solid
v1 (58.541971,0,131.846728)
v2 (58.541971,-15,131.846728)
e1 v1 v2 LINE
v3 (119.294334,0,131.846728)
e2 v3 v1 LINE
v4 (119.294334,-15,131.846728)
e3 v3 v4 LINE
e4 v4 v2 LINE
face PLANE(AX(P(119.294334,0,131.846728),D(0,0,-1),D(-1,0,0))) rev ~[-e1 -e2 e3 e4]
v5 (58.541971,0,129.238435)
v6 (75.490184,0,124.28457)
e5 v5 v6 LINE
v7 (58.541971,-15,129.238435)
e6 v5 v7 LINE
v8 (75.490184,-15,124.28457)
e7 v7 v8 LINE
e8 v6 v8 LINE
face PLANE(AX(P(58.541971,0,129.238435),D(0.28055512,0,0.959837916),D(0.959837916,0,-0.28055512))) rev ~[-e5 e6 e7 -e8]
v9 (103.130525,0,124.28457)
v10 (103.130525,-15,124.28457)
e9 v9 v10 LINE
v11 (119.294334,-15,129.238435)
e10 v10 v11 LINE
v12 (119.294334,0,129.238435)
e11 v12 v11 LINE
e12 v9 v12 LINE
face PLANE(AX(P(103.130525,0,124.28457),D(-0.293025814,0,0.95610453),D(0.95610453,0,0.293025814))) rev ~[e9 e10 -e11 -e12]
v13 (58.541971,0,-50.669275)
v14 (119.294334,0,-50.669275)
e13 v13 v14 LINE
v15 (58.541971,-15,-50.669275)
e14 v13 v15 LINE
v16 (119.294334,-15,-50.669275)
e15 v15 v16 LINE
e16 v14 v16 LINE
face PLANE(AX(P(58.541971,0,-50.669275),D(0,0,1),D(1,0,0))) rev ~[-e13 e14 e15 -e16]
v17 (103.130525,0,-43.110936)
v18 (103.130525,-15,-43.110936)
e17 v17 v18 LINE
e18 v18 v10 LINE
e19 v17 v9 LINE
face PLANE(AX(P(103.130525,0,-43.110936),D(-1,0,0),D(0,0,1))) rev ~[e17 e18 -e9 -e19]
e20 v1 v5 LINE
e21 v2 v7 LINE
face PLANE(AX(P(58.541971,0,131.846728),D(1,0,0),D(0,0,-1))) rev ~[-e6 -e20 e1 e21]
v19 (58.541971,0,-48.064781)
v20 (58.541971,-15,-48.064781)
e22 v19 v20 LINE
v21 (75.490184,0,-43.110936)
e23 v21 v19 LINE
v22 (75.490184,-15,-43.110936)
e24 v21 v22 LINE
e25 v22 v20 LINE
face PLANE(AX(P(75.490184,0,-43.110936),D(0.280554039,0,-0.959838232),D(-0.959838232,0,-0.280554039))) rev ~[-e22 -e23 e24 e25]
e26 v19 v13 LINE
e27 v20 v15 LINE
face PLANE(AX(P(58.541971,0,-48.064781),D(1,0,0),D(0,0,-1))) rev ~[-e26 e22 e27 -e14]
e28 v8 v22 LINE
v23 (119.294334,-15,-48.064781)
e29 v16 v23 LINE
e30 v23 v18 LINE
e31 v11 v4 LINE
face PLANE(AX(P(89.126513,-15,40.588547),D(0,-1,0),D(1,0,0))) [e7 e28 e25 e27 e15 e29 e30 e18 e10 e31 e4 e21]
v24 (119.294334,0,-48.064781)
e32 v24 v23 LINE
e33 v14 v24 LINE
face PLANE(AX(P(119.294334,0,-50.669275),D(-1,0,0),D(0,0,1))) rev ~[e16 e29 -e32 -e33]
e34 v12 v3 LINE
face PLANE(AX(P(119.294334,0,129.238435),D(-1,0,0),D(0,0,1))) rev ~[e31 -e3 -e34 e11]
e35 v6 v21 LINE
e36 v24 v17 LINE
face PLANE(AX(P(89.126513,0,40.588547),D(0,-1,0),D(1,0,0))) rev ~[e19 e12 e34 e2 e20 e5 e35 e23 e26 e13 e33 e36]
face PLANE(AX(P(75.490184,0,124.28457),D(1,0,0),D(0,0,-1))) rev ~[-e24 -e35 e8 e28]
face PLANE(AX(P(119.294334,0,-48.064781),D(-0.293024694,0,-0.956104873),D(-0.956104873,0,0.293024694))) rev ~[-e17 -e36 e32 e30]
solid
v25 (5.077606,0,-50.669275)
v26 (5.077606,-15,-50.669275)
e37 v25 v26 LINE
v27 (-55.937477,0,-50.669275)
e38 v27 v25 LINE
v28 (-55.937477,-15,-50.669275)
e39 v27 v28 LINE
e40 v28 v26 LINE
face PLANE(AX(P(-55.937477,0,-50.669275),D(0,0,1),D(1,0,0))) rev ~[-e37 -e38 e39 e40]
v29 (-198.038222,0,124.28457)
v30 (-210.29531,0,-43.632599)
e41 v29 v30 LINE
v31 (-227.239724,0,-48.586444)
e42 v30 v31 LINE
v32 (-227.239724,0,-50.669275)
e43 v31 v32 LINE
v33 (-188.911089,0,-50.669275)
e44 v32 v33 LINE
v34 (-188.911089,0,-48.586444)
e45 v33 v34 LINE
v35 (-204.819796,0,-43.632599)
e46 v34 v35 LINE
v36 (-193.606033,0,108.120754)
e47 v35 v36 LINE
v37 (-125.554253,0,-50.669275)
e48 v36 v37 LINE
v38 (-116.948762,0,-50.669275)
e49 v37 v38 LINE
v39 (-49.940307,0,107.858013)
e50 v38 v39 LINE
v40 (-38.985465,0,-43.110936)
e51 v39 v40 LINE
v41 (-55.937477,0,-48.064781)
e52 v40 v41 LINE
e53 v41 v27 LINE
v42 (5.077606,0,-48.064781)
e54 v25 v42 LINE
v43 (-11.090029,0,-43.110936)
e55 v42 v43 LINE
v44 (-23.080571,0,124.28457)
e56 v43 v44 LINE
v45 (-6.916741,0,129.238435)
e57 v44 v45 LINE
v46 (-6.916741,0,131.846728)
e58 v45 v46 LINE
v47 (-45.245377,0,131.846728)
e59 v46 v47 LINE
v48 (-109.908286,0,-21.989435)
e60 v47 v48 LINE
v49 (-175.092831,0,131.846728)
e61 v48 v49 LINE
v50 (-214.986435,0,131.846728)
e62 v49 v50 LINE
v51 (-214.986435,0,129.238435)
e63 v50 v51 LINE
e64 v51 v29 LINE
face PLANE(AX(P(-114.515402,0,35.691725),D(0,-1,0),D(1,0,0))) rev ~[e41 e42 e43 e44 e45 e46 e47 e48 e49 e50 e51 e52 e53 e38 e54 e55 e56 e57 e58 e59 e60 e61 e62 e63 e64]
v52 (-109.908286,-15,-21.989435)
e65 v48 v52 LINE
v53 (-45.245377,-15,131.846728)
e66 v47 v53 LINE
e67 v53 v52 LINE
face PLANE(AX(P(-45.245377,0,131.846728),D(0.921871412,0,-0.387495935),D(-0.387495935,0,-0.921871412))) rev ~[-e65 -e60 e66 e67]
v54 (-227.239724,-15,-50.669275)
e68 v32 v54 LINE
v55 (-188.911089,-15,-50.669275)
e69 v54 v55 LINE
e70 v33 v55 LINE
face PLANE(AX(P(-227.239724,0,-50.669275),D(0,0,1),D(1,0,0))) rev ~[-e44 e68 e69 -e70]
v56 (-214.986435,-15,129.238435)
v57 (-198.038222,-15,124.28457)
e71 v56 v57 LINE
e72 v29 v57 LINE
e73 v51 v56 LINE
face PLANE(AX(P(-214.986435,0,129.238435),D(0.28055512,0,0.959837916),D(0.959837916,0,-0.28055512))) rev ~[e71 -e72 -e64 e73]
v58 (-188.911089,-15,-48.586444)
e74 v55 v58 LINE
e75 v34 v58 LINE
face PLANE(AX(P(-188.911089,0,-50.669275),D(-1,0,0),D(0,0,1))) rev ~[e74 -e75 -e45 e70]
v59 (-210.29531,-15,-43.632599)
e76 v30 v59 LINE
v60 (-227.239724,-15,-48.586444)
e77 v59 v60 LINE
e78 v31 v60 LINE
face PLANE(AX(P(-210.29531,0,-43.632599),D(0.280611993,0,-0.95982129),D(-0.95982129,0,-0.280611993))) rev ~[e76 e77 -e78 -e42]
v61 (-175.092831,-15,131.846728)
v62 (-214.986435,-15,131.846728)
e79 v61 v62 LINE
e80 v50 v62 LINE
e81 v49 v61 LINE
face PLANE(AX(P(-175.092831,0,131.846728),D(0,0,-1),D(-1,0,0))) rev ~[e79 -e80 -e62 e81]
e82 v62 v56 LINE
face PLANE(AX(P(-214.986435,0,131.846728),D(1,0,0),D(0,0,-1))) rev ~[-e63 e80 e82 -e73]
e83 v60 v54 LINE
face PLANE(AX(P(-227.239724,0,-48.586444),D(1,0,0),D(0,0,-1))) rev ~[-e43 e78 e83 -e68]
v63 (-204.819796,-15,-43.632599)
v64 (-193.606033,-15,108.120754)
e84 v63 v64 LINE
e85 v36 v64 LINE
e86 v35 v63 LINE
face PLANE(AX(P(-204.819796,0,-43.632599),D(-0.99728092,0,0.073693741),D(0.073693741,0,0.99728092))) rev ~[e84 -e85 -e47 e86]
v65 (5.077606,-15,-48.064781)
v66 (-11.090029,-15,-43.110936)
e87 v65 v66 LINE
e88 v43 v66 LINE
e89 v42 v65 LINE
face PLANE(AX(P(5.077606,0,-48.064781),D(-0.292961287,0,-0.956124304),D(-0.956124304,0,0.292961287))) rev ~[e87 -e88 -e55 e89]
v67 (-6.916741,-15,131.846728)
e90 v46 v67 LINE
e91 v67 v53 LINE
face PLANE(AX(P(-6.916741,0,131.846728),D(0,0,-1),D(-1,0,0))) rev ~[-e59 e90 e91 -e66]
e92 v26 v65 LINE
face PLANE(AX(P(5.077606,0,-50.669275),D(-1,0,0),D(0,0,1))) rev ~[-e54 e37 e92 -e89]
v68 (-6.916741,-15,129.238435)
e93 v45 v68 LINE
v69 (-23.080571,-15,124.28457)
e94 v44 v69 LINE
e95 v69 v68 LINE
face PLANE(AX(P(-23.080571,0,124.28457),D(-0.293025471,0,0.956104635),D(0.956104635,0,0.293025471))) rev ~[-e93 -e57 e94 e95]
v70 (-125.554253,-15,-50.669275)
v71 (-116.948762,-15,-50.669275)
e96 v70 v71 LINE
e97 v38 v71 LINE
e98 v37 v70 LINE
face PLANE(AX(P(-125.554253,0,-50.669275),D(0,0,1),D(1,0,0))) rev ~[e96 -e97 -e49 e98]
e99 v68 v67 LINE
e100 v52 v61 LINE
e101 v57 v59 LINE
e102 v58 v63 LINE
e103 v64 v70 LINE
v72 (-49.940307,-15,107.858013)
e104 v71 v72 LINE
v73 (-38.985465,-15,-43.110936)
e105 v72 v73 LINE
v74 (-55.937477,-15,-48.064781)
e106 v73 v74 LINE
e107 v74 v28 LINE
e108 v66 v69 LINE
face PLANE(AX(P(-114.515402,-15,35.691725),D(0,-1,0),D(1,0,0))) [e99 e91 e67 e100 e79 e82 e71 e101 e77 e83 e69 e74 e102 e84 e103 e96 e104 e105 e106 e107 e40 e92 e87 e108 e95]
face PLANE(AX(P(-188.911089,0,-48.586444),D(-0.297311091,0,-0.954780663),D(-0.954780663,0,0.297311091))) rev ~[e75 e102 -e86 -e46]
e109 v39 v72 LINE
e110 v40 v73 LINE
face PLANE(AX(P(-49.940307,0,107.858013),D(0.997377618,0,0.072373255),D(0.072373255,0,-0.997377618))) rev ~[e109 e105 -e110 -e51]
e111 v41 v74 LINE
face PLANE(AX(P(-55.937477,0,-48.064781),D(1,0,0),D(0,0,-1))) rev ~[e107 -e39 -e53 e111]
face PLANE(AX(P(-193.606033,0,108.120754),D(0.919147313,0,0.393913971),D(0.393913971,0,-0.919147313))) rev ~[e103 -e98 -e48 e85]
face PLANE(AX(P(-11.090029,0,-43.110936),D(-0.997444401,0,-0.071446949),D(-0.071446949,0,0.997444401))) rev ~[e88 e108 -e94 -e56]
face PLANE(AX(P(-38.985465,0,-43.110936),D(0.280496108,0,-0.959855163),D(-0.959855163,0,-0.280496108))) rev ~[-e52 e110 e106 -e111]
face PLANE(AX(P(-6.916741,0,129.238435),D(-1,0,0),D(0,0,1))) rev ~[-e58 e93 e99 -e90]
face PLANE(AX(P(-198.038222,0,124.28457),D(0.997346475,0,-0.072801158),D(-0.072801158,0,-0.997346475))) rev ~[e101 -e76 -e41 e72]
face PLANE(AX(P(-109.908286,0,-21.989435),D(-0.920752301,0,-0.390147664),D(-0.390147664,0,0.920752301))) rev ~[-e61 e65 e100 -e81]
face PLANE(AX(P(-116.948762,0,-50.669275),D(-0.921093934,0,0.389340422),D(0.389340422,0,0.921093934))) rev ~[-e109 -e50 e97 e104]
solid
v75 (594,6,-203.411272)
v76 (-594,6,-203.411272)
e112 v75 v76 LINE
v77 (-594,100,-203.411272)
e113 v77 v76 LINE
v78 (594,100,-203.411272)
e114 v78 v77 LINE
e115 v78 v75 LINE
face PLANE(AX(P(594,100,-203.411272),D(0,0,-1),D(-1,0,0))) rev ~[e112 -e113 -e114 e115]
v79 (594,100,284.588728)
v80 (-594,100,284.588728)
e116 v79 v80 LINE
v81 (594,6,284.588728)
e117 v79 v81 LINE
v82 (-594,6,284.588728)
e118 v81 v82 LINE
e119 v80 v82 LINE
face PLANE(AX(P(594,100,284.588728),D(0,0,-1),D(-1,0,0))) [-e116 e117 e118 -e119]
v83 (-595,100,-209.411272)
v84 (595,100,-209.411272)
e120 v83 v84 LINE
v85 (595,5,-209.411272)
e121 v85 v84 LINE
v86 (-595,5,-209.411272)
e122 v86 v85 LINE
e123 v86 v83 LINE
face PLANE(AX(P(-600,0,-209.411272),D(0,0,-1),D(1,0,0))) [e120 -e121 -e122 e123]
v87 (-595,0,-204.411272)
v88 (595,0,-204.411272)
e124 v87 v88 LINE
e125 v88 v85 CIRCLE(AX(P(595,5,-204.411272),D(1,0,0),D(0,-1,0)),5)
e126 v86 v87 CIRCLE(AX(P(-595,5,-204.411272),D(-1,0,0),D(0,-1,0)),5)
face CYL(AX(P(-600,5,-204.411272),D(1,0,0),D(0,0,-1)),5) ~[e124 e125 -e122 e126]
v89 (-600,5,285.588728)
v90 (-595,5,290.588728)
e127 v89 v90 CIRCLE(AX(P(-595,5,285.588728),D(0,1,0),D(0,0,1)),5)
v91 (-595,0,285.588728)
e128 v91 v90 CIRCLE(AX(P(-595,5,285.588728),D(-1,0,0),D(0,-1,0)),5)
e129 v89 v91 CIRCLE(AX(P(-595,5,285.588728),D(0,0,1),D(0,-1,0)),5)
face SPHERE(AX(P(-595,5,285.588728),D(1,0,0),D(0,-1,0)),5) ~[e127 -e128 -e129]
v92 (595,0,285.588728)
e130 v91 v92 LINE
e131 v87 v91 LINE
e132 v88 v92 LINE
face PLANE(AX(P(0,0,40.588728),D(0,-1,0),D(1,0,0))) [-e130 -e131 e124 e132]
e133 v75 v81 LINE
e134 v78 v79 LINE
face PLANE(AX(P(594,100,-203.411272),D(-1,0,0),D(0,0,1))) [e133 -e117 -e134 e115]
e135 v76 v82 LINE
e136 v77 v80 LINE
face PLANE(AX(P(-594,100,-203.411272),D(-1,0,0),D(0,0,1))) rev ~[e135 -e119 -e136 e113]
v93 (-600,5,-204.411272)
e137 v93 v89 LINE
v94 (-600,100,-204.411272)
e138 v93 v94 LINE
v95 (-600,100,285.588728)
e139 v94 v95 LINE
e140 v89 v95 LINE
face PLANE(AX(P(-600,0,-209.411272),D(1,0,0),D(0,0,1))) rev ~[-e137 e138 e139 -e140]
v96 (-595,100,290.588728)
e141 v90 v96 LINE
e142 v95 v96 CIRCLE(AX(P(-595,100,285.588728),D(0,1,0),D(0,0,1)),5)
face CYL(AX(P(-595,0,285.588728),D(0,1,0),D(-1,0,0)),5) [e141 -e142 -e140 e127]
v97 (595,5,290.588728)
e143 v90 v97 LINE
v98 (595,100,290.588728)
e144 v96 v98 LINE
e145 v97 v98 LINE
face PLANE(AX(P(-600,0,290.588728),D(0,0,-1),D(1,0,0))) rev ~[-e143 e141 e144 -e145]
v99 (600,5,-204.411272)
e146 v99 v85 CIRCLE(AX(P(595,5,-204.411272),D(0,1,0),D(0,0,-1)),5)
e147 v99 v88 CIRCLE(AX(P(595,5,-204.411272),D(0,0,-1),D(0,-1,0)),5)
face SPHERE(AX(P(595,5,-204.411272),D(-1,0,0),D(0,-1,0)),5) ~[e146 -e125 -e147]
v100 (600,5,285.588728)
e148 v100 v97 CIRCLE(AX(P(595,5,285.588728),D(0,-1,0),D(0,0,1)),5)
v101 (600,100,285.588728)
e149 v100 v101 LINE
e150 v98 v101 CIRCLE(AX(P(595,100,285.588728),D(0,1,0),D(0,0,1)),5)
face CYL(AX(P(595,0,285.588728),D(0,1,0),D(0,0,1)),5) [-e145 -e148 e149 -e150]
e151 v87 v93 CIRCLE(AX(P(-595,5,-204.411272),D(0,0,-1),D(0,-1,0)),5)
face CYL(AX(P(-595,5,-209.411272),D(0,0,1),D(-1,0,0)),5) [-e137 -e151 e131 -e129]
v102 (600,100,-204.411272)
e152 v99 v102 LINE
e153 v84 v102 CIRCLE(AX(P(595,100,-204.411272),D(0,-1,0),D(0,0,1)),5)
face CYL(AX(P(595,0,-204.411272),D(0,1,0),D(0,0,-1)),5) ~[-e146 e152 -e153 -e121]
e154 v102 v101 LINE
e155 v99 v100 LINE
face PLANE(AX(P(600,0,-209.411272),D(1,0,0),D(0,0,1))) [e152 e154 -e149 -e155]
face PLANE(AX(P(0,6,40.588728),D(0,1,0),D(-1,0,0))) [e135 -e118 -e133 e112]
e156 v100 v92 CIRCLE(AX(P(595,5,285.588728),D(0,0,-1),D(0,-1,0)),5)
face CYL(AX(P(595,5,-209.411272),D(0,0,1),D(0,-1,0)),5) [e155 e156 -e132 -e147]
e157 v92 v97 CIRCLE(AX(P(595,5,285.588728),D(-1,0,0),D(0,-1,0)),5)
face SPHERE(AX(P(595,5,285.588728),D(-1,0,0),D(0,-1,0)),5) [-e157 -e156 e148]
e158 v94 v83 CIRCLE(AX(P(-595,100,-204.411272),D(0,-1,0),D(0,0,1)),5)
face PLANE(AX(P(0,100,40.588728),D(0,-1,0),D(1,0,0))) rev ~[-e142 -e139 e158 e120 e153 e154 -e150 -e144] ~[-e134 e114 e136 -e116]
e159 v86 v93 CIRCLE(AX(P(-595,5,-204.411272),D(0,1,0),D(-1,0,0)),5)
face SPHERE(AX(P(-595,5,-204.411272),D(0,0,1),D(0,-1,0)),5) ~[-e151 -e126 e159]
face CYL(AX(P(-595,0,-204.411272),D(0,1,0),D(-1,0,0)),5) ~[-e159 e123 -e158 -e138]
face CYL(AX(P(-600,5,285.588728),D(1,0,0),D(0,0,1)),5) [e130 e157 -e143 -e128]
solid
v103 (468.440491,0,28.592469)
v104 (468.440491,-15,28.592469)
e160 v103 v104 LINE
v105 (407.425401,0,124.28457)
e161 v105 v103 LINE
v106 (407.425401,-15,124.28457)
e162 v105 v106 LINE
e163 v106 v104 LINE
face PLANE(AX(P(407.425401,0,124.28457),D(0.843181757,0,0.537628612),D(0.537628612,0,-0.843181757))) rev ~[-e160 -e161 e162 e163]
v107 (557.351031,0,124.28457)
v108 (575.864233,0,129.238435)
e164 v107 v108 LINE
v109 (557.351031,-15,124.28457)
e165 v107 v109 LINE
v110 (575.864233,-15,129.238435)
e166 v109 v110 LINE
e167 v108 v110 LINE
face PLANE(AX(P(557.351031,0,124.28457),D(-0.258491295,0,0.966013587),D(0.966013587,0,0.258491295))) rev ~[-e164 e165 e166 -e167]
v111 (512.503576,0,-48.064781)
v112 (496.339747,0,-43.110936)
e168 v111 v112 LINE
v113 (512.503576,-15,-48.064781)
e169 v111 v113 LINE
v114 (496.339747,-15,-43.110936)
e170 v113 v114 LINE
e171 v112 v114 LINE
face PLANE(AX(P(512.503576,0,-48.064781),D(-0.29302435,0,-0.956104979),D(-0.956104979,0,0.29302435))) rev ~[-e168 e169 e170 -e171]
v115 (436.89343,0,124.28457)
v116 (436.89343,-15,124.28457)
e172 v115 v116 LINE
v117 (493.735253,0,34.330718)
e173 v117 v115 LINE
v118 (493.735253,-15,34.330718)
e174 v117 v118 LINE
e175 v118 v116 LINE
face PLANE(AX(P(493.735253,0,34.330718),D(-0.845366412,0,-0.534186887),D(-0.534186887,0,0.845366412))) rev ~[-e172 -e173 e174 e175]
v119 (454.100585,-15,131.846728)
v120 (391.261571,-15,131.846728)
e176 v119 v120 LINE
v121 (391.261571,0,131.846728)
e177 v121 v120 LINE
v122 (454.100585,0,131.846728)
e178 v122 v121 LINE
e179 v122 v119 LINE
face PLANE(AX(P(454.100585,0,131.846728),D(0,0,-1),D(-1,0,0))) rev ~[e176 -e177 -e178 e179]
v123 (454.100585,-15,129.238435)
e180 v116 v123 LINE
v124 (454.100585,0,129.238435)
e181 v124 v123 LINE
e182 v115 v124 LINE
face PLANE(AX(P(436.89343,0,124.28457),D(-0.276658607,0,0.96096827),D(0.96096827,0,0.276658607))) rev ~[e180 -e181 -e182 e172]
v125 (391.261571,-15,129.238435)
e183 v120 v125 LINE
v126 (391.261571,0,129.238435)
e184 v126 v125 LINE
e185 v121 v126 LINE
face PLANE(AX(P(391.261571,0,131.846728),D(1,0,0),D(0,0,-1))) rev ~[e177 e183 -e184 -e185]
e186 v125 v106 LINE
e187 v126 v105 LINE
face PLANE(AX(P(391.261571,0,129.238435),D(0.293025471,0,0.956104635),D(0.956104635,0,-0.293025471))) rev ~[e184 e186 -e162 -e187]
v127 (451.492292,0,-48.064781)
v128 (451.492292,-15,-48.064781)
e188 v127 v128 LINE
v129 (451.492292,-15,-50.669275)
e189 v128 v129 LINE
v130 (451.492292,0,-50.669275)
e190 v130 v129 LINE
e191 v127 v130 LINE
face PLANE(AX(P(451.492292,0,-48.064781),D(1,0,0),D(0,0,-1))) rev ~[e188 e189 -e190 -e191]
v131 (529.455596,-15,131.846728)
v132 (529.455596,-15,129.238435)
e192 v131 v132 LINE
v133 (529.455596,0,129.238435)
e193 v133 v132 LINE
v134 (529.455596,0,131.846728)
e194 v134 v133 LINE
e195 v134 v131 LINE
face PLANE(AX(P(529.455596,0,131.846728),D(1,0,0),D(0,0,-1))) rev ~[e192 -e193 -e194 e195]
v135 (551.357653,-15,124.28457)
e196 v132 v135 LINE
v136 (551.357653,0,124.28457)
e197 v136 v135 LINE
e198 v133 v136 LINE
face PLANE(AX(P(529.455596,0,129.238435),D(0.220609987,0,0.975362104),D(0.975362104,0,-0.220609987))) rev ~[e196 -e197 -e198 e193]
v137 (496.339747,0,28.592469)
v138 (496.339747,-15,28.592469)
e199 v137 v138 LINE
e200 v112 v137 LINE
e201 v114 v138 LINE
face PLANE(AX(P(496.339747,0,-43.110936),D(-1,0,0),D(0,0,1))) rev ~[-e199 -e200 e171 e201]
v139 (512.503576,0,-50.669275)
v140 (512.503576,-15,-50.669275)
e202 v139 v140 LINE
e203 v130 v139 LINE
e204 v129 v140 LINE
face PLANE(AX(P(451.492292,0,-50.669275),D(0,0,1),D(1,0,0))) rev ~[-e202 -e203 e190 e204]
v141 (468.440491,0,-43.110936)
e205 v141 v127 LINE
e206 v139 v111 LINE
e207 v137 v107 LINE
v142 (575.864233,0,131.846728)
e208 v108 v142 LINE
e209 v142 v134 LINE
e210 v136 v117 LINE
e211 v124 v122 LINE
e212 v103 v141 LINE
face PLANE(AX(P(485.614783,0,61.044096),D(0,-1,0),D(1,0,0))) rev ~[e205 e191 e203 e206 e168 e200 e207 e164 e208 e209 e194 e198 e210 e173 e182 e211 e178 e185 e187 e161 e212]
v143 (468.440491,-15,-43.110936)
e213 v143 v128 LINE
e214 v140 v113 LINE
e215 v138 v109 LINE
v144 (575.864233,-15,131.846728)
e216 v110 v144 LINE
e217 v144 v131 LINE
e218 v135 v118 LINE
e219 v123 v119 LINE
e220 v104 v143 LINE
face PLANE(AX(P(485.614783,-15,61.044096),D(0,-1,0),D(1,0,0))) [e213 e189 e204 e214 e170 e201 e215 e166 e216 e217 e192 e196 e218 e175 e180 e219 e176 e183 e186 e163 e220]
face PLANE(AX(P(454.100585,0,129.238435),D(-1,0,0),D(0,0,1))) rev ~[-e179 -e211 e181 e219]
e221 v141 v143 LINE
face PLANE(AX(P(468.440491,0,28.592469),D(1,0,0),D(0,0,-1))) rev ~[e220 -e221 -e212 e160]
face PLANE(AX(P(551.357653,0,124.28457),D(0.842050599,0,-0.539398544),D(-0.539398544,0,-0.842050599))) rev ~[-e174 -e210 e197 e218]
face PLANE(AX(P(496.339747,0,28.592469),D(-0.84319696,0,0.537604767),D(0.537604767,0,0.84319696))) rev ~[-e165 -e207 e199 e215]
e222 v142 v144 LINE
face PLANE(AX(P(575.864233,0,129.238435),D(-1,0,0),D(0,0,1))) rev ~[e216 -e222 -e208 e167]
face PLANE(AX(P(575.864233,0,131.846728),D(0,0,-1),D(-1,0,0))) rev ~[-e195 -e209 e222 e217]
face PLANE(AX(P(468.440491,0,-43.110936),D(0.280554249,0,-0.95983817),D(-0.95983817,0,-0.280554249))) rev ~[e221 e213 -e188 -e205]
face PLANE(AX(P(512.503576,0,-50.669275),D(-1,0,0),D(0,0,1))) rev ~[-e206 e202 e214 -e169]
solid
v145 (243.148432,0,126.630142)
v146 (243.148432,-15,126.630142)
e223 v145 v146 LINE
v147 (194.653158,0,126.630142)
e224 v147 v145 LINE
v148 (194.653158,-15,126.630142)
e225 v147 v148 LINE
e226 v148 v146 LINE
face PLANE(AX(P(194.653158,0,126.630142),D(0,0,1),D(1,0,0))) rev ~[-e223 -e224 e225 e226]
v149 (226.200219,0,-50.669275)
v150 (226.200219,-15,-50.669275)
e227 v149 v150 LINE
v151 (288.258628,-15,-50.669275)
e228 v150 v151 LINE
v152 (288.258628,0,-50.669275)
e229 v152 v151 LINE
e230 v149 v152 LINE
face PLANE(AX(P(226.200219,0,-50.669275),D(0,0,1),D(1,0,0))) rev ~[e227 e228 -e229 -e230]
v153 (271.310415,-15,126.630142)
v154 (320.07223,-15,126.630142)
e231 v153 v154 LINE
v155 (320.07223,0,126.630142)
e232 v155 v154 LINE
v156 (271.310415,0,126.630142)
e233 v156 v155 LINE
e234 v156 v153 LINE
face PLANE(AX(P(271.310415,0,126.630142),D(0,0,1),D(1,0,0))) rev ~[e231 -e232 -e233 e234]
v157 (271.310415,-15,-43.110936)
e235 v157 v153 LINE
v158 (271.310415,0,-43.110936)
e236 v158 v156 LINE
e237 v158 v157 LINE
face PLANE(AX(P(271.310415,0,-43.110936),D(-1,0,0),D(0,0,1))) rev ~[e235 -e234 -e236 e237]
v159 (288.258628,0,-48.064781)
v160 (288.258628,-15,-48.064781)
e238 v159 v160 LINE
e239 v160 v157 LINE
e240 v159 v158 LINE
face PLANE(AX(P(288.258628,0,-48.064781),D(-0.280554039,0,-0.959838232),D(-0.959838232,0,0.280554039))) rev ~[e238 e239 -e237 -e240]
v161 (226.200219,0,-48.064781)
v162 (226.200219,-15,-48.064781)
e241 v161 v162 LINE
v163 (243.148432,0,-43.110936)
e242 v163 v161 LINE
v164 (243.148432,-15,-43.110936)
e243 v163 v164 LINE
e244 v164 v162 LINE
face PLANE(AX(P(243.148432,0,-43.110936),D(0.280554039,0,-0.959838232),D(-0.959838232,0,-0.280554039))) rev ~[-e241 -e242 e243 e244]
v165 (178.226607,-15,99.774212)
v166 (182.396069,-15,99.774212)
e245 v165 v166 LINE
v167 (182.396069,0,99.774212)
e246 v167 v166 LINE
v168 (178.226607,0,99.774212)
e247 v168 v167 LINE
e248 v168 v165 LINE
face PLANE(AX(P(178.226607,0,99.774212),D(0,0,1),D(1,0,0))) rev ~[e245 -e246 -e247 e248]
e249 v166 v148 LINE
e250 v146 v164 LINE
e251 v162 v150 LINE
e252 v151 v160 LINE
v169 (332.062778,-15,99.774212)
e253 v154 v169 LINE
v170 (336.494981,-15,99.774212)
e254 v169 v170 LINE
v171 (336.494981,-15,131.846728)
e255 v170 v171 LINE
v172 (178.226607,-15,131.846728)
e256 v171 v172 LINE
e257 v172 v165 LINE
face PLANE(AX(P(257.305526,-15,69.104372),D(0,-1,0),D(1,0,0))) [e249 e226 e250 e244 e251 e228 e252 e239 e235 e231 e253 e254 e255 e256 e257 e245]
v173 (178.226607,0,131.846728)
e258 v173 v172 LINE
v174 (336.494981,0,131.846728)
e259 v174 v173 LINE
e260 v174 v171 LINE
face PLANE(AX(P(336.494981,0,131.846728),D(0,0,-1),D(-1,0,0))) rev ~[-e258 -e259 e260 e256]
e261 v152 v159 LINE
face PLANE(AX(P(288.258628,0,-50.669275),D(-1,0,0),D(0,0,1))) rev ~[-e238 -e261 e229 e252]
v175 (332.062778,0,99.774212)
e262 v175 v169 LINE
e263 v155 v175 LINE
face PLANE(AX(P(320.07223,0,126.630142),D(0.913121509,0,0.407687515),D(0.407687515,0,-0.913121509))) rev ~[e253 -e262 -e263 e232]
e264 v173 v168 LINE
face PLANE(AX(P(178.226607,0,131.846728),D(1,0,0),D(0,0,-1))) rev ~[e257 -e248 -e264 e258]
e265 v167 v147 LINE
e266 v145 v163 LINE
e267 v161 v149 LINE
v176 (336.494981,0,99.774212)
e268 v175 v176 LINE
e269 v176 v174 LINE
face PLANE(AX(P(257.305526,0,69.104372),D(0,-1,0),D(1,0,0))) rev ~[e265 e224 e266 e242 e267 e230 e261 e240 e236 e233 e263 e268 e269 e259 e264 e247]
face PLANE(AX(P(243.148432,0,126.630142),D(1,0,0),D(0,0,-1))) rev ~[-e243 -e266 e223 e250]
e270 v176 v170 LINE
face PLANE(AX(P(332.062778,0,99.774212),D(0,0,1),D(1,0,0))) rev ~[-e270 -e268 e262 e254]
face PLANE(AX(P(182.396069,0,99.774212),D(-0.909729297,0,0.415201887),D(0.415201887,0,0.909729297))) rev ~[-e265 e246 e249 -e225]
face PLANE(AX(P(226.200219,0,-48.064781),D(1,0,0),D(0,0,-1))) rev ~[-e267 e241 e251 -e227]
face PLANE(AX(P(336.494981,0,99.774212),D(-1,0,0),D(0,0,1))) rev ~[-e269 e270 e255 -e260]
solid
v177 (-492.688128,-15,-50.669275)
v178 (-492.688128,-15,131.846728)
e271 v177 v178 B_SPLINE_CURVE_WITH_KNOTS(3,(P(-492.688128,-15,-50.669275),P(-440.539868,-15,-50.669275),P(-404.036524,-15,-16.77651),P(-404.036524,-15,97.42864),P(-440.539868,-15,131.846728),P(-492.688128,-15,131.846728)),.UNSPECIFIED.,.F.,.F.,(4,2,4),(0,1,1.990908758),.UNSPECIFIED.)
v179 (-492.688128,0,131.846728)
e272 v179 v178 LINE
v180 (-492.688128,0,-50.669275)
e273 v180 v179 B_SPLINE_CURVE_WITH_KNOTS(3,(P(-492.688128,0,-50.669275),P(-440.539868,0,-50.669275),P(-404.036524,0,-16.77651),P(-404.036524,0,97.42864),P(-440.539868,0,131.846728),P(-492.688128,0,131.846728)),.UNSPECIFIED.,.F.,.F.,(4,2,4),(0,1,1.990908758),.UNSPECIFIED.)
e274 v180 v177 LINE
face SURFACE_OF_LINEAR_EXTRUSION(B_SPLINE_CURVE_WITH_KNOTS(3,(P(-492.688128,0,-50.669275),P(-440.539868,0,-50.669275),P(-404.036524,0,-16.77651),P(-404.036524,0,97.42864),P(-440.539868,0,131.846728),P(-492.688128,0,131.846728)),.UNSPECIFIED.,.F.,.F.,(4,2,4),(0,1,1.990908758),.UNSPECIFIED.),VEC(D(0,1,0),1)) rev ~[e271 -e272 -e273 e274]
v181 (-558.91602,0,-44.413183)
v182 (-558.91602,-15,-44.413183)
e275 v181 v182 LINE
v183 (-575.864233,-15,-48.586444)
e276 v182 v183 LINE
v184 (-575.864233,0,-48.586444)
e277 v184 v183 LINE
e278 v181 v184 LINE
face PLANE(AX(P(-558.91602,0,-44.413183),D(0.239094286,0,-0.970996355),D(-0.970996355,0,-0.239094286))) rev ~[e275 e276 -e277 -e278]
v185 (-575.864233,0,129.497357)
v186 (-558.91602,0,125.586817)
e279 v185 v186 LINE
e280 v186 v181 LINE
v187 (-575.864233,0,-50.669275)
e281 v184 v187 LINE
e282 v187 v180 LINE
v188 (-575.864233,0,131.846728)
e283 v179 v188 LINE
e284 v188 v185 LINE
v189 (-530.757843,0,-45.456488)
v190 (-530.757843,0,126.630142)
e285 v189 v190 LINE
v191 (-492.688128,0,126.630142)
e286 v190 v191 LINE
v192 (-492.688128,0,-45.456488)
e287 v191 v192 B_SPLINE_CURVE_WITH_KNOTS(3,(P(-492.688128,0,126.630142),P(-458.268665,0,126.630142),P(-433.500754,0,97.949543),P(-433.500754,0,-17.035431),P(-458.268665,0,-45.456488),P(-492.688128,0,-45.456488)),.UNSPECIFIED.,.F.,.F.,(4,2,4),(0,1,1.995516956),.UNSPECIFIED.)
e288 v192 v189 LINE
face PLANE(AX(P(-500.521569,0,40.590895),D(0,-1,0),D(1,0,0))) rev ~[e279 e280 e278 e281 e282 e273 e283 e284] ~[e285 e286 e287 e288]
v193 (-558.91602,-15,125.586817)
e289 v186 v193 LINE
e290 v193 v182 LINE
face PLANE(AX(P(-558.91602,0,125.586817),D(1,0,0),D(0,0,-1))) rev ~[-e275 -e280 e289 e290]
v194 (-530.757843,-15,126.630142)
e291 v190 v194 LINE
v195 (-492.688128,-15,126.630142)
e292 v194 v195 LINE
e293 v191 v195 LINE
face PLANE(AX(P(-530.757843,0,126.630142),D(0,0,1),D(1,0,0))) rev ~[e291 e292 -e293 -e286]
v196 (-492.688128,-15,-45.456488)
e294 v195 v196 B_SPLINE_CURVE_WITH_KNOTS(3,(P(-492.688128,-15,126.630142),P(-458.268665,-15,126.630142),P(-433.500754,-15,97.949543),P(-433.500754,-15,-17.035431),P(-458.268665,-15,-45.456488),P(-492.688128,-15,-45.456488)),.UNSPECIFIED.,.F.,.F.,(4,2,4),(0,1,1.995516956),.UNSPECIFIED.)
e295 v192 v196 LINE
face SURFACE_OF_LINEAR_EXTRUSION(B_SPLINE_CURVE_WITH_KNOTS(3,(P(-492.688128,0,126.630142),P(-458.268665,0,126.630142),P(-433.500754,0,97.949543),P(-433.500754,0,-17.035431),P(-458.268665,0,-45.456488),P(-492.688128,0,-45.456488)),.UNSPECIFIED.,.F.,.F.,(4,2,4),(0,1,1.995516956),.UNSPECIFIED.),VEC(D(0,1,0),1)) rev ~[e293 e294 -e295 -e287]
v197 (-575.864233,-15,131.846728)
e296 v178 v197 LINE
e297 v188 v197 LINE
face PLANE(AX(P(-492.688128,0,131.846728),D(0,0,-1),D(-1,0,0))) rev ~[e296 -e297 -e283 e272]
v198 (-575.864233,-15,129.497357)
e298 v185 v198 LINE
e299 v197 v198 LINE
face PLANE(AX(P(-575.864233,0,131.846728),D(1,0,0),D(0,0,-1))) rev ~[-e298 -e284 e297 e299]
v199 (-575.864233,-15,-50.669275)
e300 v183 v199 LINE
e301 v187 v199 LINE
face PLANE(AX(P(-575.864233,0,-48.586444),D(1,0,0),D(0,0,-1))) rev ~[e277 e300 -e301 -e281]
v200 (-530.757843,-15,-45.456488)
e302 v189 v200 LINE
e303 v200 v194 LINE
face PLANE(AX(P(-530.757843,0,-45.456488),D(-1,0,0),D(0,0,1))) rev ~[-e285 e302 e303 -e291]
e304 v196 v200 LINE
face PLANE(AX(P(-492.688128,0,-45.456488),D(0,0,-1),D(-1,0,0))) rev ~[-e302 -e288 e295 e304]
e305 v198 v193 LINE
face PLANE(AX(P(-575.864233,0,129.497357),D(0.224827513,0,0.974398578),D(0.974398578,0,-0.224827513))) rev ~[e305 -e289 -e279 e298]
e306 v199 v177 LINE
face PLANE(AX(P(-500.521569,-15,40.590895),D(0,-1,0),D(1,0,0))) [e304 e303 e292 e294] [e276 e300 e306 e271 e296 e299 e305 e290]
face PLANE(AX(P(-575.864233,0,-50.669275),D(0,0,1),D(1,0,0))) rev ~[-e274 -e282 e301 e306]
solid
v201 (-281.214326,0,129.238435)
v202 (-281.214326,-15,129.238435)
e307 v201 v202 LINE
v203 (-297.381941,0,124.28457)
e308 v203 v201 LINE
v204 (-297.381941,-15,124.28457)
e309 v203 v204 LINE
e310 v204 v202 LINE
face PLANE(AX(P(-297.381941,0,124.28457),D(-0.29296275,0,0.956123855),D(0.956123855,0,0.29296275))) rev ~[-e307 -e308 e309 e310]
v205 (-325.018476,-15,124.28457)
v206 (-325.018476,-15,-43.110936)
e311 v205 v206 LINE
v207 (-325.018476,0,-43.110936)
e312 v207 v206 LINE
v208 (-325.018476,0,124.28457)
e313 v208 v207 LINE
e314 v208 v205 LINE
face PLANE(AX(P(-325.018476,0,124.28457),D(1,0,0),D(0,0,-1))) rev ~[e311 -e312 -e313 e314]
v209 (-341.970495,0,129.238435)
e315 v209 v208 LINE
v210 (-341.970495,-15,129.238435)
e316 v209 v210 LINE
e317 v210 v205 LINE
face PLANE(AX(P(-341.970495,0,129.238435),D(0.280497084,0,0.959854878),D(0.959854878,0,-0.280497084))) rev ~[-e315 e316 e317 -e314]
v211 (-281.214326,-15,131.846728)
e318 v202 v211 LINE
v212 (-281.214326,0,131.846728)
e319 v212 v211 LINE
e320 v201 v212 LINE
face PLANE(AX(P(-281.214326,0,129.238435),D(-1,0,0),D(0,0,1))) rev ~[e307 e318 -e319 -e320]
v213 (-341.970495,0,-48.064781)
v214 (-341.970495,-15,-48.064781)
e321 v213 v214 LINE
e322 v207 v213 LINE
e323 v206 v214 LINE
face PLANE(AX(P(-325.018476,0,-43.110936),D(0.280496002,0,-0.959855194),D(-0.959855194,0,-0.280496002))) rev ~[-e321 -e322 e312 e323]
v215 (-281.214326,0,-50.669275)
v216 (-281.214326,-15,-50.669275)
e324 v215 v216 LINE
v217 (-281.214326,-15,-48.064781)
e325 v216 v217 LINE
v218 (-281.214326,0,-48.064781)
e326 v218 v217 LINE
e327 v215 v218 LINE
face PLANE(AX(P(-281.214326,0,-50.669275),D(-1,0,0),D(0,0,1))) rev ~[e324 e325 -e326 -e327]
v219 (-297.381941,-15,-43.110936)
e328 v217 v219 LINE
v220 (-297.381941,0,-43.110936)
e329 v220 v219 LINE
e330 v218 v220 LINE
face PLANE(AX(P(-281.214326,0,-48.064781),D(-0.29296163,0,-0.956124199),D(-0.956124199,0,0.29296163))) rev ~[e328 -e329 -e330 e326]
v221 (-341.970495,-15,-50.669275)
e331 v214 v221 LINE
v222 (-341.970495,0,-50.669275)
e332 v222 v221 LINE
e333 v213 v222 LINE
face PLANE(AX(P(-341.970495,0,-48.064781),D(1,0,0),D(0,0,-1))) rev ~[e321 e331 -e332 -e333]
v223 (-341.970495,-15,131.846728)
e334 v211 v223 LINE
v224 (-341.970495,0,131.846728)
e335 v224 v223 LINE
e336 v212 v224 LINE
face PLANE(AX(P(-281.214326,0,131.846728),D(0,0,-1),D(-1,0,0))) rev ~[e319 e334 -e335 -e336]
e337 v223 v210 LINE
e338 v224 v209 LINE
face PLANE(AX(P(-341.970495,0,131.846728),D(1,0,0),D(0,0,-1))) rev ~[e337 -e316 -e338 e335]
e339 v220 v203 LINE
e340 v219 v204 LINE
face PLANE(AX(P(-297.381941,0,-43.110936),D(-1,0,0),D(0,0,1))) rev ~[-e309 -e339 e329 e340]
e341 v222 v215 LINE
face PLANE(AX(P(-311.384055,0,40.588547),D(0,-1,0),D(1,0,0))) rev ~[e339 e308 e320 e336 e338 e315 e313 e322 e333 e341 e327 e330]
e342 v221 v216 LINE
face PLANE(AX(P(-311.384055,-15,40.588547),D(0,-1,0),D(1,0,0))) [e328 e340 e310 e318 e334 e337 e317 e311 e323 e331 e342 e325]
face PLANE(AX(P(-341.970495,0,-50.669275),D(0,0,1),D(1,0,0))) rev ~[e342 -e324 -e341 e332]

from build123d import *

# Parameters (mm, degrees)
F1_DEPTH = 15
F2_W     = 1200
F2_H     = 500
F3_DEPTH = 100
F5_W     = 1188
F5_H     = 488
F6_DEPTH = 94
F7_R     = 5


with BuildPart() as f1:
    # F0 (on Front) → F1 (new body)
    with BuildSketch(Plane.XZ):
        with BuildLine():
            Line((-492.688128328, 131.8467284969), (-575.8642325067, 131.8467284969))
            Line((-575.8642325067, 131.8467284969), (-575.8642325067, 129.4973567609))
            Line((-575.8642325067, 129.4973567609), (-558.9160195401, 125.5868167992))
            Line((-558.9160195401, 125.5868167992), (-558.9160195401, -44.4131832008))
            Line((-558.9160195401, -44.4131832008), (-575.8642325067, -48.5864438502))
            Line((-575.8642325067, -48.5864438502), (-575.8642325067, -50.6692748381))
            Line((-575.8642325067, -50.6692748381), (-492.688128328, -50.6692748381))
            add(Edge.make_bspline(
                [(-492.688128328, -50.6692748381), (-440.5398678839, -50.6692748381), (-404.0365235328, -16.7765100838), (-404.0365235328, 40.5868167992)],
                knots=[0, 0, 0, 0, 1, 1, 1, 1], degree=3))
            add(Edge.make_bspline(
                [(-404.0365235328, 40.5868167992), (-404.0365235328, 97.4286398014), (-440.5398678839, 131.8467284969), (-492.688128328, 131.8467284969)],
                knots=[0, 0, 0, 0, 1, 1, 1, 1], degree=3))
        make_face()
        with BuildLine():
            Line((-530.7578425423, -45.4564880014), (-530.7578425423, 126.6301423233))
            Line((-530.7578425423, 126.6301423233), (-492.688128328, 126.6301423233))
            add(Edge.make_bspline(
                [(-492.688128328, 126.6301423233), (-458.2686649634, 126.6301423233), (-433.5007536503, 97.9495426962), (-433.5007536503, 40.3278954484)],
                knots=[0, 0, 0, 0, 1, 1, 1, 1], degree=3))
            add(Edge.make_bspline(
                [(-433.5007536503, 40.3278954484), (-433.5007536503, -17.0354314346), (-458.2686649634, -45.4564880014), (-492.688128328, -45.4564880014)],
                knots=[0, 0, 0, 0, 1, 1, 1, 1], degree=3))
            Line((-492.688128328, -45.4564880014), (-530.7578425423, -45.4564880014))
        make_face(mode=Mode.SUBTRACT)
    extrude(amount=F1_DEPTH)


with BuildPart() as f1b:
    # F0 (on Front) → F1, piece 2 (new body)
    with BuildSketch(Plane.XZ):
        Polygon((-281.214325751, 131.8467284969), (-341.9704949597, 131.8467284969), (-341.9704949597, 129.2384354101), (-325.0184757483, 124.2845699242), (-325.0184757483, -43.1109363259), (-341.9704949597, -48.0647810881), (-341.9704949597, -50.6692748381), (-281.214325751, -50.6692748381), (-281.214325751, -48.0647810881), (-297.381940789, -43.1109363259), (-297.381940789, 124.2845699242), (-281.214325751, 129.2384354101), align=None)
    extrude(amount=F1_DEPTH)


with BuildPart() as f1c:
    # F0 (on Front) → F1, piece 3 (new body)
    with BuildSketch(Plane.XZ):
        Polygon((-175.0928314113, 131.8467284969), (-214.986434539, 131.8467284969), (-214.986434539, 129.2384354101), (-198.0382215723, 124.2845699242), (-210.2953104643, -43.6325990879), (-227.2397240942, -48.5864438502), (-227.2397240942, -50.6692748381), (-188.9110885291, -50.6692748381), (-188.9110885291, -48.5864438502), (-204.8197960321, -43.6325990879), (-193.6060326642, 108.120754223), (-125.5542525388, -50.6692748381), (-116.948761534, -50.6692748381), (-49.9403069328, 107.8580128117), (-38.9854649157, -43.1109363259), (-55.9374772192, -48.0647810881), (-55.9374772192, -50.6692748381), (5.0776064324, -50.6692748381), (5.0776064324, -48.0647810881), (-11.0900293293, -43.1109363259), (-23.0805705653, 124.2845699242), (-6.9167410483, 129.2384354101), (-6.9167410483, 131.8467284969), (-45.2453766134, 131.8467284969), (-109.9082864471, -21.9894350783), align=None)
    extrude(amount=F1_DEPTH)


with BuildPart() as f1d:
    # F0 (on Front) → F1, piece 4 (new body)
    with BuildSketch(Plane.XZ):
        Polygon((119.2943339332, 131.8467284969), (58.5419709692, 131.8467284969), (58.5419709692, 129.2384354101), (75.4901839359, 124.2845699242), (75.4901839359, -43.1109363259), (58.5419709692, -48.0647810881), (58.5419709692, -50.6692748381), (119.2943339332, -50.6692748381), (119.2943339332, -48.0647810881), (103.1305251399, -43.1109363259), (103.1305251399, 124.2845699242), (119.2943339332, 129.2384354101), align=None)
    extrude(amount=F1_DEPTH)


with BuildPart() as f1e:
    # F0 (on Front) → F1, piece 5 (new body)
    with BuildSketch(Plane.XZ):
        Polygon((336.4949805275, 131.8467284969), (178.2266073206, 131.8467284969), (178.2266073206, 99.7742122006), (182.3960686332, 99.7742122006), (194.6531575252, 126.6301423233), (243.1484315972, 126.6301423233), (243.1484315972, -43.1109363259), (226.2002186305, -48.0647810881), (226.2002186305, -50.6692748381), (288.2586278063, -50.6692748381), (288.2586278063, -48.0647810881), (271.3104148396, -43.1109363259), (271.3104148396, 126.6301423233), (320.0722296597, 126.6301423233), (332.0627778036, 99.7742122006), (336.4949805275, 99.7742122006), align=None)
    extrude(amount=F1_DEPTH)


with BuildPart() as f1f:
    # F0 (on Front) → F1, piece 6 (new body)
    with BuildSketch(Plane.XZ):
        Polygon((454.1005852279, 131.8467284969), (391.2615712155, 131.8467284969), (391.2615712155, 129.2384354101), (407.4254007325, 124.2845699242), (468.440491292, 28.5924693184), (468.440491292, -43.1109363259), (451.4922921411, -48.0647810881), (451.4922921411, -50.6692748381), (512.5035764559, -50.6692748381), (512.5035764559, -48.0647810881), (496.339746939, -43.1109363259), (496.339746939, 28.5924693184), (557.3510312538, 124.2845699242), (575.8642325067, 129.2384354101), (575.8642325067, 131.8467284969), (529.4555956673, 131.8467284969), (529.4555956673, 129.2384354101), (551.3576533963, 124.2845699242), (493.735253189, 34.330718254), (436.8934301868, 124.2845699242), (454.1005852279, 129.2384354101), align=None)
    extrude(amount=F1_DEPTH)


with BuildPart() as f3:
    # F2 (on Front) → F3 (new body)
    with BuildSketch(Plane.XZ):
        with Locations((0, 40.5887284969)):
            Rectangle(F2_W, F2_H)
    extrude(amount=-F3_DEPTH)

    # F5 (on face) → F6 (cut)
    with BuildSketch(Plane(origin=(0, 100, 0), x_dir=(-1, 0, 0), z_dir=(0, 1, 0))):
        with Locations((0, 40.5887284969)):
            Rectangle(F5_W, F5_H)
    extrude(amount=-F6_DEPTH, mode=Mode.SUBTRACT)

    # F7
    f7_edges = [f3.edges().sort_by_distance(p)[0] for p in [
        (0, 0, 290.588728),
        (-600, 0, 40.588728),
        (0, 0, -209.411272),
        (600, 0, 40.588728),
        (600, 50, 290.588728),
        (600, 50, -209.411272),
        (-600, 50, 290.588728),
        (-600, 50, -209.411272),
    ]]
    fillet(f7_edges, radius=F7_R)


solid = Compound([f1.part, f1b.part, f1c.part, f1d.part, f1e.part, f1f.part, f3.part])
